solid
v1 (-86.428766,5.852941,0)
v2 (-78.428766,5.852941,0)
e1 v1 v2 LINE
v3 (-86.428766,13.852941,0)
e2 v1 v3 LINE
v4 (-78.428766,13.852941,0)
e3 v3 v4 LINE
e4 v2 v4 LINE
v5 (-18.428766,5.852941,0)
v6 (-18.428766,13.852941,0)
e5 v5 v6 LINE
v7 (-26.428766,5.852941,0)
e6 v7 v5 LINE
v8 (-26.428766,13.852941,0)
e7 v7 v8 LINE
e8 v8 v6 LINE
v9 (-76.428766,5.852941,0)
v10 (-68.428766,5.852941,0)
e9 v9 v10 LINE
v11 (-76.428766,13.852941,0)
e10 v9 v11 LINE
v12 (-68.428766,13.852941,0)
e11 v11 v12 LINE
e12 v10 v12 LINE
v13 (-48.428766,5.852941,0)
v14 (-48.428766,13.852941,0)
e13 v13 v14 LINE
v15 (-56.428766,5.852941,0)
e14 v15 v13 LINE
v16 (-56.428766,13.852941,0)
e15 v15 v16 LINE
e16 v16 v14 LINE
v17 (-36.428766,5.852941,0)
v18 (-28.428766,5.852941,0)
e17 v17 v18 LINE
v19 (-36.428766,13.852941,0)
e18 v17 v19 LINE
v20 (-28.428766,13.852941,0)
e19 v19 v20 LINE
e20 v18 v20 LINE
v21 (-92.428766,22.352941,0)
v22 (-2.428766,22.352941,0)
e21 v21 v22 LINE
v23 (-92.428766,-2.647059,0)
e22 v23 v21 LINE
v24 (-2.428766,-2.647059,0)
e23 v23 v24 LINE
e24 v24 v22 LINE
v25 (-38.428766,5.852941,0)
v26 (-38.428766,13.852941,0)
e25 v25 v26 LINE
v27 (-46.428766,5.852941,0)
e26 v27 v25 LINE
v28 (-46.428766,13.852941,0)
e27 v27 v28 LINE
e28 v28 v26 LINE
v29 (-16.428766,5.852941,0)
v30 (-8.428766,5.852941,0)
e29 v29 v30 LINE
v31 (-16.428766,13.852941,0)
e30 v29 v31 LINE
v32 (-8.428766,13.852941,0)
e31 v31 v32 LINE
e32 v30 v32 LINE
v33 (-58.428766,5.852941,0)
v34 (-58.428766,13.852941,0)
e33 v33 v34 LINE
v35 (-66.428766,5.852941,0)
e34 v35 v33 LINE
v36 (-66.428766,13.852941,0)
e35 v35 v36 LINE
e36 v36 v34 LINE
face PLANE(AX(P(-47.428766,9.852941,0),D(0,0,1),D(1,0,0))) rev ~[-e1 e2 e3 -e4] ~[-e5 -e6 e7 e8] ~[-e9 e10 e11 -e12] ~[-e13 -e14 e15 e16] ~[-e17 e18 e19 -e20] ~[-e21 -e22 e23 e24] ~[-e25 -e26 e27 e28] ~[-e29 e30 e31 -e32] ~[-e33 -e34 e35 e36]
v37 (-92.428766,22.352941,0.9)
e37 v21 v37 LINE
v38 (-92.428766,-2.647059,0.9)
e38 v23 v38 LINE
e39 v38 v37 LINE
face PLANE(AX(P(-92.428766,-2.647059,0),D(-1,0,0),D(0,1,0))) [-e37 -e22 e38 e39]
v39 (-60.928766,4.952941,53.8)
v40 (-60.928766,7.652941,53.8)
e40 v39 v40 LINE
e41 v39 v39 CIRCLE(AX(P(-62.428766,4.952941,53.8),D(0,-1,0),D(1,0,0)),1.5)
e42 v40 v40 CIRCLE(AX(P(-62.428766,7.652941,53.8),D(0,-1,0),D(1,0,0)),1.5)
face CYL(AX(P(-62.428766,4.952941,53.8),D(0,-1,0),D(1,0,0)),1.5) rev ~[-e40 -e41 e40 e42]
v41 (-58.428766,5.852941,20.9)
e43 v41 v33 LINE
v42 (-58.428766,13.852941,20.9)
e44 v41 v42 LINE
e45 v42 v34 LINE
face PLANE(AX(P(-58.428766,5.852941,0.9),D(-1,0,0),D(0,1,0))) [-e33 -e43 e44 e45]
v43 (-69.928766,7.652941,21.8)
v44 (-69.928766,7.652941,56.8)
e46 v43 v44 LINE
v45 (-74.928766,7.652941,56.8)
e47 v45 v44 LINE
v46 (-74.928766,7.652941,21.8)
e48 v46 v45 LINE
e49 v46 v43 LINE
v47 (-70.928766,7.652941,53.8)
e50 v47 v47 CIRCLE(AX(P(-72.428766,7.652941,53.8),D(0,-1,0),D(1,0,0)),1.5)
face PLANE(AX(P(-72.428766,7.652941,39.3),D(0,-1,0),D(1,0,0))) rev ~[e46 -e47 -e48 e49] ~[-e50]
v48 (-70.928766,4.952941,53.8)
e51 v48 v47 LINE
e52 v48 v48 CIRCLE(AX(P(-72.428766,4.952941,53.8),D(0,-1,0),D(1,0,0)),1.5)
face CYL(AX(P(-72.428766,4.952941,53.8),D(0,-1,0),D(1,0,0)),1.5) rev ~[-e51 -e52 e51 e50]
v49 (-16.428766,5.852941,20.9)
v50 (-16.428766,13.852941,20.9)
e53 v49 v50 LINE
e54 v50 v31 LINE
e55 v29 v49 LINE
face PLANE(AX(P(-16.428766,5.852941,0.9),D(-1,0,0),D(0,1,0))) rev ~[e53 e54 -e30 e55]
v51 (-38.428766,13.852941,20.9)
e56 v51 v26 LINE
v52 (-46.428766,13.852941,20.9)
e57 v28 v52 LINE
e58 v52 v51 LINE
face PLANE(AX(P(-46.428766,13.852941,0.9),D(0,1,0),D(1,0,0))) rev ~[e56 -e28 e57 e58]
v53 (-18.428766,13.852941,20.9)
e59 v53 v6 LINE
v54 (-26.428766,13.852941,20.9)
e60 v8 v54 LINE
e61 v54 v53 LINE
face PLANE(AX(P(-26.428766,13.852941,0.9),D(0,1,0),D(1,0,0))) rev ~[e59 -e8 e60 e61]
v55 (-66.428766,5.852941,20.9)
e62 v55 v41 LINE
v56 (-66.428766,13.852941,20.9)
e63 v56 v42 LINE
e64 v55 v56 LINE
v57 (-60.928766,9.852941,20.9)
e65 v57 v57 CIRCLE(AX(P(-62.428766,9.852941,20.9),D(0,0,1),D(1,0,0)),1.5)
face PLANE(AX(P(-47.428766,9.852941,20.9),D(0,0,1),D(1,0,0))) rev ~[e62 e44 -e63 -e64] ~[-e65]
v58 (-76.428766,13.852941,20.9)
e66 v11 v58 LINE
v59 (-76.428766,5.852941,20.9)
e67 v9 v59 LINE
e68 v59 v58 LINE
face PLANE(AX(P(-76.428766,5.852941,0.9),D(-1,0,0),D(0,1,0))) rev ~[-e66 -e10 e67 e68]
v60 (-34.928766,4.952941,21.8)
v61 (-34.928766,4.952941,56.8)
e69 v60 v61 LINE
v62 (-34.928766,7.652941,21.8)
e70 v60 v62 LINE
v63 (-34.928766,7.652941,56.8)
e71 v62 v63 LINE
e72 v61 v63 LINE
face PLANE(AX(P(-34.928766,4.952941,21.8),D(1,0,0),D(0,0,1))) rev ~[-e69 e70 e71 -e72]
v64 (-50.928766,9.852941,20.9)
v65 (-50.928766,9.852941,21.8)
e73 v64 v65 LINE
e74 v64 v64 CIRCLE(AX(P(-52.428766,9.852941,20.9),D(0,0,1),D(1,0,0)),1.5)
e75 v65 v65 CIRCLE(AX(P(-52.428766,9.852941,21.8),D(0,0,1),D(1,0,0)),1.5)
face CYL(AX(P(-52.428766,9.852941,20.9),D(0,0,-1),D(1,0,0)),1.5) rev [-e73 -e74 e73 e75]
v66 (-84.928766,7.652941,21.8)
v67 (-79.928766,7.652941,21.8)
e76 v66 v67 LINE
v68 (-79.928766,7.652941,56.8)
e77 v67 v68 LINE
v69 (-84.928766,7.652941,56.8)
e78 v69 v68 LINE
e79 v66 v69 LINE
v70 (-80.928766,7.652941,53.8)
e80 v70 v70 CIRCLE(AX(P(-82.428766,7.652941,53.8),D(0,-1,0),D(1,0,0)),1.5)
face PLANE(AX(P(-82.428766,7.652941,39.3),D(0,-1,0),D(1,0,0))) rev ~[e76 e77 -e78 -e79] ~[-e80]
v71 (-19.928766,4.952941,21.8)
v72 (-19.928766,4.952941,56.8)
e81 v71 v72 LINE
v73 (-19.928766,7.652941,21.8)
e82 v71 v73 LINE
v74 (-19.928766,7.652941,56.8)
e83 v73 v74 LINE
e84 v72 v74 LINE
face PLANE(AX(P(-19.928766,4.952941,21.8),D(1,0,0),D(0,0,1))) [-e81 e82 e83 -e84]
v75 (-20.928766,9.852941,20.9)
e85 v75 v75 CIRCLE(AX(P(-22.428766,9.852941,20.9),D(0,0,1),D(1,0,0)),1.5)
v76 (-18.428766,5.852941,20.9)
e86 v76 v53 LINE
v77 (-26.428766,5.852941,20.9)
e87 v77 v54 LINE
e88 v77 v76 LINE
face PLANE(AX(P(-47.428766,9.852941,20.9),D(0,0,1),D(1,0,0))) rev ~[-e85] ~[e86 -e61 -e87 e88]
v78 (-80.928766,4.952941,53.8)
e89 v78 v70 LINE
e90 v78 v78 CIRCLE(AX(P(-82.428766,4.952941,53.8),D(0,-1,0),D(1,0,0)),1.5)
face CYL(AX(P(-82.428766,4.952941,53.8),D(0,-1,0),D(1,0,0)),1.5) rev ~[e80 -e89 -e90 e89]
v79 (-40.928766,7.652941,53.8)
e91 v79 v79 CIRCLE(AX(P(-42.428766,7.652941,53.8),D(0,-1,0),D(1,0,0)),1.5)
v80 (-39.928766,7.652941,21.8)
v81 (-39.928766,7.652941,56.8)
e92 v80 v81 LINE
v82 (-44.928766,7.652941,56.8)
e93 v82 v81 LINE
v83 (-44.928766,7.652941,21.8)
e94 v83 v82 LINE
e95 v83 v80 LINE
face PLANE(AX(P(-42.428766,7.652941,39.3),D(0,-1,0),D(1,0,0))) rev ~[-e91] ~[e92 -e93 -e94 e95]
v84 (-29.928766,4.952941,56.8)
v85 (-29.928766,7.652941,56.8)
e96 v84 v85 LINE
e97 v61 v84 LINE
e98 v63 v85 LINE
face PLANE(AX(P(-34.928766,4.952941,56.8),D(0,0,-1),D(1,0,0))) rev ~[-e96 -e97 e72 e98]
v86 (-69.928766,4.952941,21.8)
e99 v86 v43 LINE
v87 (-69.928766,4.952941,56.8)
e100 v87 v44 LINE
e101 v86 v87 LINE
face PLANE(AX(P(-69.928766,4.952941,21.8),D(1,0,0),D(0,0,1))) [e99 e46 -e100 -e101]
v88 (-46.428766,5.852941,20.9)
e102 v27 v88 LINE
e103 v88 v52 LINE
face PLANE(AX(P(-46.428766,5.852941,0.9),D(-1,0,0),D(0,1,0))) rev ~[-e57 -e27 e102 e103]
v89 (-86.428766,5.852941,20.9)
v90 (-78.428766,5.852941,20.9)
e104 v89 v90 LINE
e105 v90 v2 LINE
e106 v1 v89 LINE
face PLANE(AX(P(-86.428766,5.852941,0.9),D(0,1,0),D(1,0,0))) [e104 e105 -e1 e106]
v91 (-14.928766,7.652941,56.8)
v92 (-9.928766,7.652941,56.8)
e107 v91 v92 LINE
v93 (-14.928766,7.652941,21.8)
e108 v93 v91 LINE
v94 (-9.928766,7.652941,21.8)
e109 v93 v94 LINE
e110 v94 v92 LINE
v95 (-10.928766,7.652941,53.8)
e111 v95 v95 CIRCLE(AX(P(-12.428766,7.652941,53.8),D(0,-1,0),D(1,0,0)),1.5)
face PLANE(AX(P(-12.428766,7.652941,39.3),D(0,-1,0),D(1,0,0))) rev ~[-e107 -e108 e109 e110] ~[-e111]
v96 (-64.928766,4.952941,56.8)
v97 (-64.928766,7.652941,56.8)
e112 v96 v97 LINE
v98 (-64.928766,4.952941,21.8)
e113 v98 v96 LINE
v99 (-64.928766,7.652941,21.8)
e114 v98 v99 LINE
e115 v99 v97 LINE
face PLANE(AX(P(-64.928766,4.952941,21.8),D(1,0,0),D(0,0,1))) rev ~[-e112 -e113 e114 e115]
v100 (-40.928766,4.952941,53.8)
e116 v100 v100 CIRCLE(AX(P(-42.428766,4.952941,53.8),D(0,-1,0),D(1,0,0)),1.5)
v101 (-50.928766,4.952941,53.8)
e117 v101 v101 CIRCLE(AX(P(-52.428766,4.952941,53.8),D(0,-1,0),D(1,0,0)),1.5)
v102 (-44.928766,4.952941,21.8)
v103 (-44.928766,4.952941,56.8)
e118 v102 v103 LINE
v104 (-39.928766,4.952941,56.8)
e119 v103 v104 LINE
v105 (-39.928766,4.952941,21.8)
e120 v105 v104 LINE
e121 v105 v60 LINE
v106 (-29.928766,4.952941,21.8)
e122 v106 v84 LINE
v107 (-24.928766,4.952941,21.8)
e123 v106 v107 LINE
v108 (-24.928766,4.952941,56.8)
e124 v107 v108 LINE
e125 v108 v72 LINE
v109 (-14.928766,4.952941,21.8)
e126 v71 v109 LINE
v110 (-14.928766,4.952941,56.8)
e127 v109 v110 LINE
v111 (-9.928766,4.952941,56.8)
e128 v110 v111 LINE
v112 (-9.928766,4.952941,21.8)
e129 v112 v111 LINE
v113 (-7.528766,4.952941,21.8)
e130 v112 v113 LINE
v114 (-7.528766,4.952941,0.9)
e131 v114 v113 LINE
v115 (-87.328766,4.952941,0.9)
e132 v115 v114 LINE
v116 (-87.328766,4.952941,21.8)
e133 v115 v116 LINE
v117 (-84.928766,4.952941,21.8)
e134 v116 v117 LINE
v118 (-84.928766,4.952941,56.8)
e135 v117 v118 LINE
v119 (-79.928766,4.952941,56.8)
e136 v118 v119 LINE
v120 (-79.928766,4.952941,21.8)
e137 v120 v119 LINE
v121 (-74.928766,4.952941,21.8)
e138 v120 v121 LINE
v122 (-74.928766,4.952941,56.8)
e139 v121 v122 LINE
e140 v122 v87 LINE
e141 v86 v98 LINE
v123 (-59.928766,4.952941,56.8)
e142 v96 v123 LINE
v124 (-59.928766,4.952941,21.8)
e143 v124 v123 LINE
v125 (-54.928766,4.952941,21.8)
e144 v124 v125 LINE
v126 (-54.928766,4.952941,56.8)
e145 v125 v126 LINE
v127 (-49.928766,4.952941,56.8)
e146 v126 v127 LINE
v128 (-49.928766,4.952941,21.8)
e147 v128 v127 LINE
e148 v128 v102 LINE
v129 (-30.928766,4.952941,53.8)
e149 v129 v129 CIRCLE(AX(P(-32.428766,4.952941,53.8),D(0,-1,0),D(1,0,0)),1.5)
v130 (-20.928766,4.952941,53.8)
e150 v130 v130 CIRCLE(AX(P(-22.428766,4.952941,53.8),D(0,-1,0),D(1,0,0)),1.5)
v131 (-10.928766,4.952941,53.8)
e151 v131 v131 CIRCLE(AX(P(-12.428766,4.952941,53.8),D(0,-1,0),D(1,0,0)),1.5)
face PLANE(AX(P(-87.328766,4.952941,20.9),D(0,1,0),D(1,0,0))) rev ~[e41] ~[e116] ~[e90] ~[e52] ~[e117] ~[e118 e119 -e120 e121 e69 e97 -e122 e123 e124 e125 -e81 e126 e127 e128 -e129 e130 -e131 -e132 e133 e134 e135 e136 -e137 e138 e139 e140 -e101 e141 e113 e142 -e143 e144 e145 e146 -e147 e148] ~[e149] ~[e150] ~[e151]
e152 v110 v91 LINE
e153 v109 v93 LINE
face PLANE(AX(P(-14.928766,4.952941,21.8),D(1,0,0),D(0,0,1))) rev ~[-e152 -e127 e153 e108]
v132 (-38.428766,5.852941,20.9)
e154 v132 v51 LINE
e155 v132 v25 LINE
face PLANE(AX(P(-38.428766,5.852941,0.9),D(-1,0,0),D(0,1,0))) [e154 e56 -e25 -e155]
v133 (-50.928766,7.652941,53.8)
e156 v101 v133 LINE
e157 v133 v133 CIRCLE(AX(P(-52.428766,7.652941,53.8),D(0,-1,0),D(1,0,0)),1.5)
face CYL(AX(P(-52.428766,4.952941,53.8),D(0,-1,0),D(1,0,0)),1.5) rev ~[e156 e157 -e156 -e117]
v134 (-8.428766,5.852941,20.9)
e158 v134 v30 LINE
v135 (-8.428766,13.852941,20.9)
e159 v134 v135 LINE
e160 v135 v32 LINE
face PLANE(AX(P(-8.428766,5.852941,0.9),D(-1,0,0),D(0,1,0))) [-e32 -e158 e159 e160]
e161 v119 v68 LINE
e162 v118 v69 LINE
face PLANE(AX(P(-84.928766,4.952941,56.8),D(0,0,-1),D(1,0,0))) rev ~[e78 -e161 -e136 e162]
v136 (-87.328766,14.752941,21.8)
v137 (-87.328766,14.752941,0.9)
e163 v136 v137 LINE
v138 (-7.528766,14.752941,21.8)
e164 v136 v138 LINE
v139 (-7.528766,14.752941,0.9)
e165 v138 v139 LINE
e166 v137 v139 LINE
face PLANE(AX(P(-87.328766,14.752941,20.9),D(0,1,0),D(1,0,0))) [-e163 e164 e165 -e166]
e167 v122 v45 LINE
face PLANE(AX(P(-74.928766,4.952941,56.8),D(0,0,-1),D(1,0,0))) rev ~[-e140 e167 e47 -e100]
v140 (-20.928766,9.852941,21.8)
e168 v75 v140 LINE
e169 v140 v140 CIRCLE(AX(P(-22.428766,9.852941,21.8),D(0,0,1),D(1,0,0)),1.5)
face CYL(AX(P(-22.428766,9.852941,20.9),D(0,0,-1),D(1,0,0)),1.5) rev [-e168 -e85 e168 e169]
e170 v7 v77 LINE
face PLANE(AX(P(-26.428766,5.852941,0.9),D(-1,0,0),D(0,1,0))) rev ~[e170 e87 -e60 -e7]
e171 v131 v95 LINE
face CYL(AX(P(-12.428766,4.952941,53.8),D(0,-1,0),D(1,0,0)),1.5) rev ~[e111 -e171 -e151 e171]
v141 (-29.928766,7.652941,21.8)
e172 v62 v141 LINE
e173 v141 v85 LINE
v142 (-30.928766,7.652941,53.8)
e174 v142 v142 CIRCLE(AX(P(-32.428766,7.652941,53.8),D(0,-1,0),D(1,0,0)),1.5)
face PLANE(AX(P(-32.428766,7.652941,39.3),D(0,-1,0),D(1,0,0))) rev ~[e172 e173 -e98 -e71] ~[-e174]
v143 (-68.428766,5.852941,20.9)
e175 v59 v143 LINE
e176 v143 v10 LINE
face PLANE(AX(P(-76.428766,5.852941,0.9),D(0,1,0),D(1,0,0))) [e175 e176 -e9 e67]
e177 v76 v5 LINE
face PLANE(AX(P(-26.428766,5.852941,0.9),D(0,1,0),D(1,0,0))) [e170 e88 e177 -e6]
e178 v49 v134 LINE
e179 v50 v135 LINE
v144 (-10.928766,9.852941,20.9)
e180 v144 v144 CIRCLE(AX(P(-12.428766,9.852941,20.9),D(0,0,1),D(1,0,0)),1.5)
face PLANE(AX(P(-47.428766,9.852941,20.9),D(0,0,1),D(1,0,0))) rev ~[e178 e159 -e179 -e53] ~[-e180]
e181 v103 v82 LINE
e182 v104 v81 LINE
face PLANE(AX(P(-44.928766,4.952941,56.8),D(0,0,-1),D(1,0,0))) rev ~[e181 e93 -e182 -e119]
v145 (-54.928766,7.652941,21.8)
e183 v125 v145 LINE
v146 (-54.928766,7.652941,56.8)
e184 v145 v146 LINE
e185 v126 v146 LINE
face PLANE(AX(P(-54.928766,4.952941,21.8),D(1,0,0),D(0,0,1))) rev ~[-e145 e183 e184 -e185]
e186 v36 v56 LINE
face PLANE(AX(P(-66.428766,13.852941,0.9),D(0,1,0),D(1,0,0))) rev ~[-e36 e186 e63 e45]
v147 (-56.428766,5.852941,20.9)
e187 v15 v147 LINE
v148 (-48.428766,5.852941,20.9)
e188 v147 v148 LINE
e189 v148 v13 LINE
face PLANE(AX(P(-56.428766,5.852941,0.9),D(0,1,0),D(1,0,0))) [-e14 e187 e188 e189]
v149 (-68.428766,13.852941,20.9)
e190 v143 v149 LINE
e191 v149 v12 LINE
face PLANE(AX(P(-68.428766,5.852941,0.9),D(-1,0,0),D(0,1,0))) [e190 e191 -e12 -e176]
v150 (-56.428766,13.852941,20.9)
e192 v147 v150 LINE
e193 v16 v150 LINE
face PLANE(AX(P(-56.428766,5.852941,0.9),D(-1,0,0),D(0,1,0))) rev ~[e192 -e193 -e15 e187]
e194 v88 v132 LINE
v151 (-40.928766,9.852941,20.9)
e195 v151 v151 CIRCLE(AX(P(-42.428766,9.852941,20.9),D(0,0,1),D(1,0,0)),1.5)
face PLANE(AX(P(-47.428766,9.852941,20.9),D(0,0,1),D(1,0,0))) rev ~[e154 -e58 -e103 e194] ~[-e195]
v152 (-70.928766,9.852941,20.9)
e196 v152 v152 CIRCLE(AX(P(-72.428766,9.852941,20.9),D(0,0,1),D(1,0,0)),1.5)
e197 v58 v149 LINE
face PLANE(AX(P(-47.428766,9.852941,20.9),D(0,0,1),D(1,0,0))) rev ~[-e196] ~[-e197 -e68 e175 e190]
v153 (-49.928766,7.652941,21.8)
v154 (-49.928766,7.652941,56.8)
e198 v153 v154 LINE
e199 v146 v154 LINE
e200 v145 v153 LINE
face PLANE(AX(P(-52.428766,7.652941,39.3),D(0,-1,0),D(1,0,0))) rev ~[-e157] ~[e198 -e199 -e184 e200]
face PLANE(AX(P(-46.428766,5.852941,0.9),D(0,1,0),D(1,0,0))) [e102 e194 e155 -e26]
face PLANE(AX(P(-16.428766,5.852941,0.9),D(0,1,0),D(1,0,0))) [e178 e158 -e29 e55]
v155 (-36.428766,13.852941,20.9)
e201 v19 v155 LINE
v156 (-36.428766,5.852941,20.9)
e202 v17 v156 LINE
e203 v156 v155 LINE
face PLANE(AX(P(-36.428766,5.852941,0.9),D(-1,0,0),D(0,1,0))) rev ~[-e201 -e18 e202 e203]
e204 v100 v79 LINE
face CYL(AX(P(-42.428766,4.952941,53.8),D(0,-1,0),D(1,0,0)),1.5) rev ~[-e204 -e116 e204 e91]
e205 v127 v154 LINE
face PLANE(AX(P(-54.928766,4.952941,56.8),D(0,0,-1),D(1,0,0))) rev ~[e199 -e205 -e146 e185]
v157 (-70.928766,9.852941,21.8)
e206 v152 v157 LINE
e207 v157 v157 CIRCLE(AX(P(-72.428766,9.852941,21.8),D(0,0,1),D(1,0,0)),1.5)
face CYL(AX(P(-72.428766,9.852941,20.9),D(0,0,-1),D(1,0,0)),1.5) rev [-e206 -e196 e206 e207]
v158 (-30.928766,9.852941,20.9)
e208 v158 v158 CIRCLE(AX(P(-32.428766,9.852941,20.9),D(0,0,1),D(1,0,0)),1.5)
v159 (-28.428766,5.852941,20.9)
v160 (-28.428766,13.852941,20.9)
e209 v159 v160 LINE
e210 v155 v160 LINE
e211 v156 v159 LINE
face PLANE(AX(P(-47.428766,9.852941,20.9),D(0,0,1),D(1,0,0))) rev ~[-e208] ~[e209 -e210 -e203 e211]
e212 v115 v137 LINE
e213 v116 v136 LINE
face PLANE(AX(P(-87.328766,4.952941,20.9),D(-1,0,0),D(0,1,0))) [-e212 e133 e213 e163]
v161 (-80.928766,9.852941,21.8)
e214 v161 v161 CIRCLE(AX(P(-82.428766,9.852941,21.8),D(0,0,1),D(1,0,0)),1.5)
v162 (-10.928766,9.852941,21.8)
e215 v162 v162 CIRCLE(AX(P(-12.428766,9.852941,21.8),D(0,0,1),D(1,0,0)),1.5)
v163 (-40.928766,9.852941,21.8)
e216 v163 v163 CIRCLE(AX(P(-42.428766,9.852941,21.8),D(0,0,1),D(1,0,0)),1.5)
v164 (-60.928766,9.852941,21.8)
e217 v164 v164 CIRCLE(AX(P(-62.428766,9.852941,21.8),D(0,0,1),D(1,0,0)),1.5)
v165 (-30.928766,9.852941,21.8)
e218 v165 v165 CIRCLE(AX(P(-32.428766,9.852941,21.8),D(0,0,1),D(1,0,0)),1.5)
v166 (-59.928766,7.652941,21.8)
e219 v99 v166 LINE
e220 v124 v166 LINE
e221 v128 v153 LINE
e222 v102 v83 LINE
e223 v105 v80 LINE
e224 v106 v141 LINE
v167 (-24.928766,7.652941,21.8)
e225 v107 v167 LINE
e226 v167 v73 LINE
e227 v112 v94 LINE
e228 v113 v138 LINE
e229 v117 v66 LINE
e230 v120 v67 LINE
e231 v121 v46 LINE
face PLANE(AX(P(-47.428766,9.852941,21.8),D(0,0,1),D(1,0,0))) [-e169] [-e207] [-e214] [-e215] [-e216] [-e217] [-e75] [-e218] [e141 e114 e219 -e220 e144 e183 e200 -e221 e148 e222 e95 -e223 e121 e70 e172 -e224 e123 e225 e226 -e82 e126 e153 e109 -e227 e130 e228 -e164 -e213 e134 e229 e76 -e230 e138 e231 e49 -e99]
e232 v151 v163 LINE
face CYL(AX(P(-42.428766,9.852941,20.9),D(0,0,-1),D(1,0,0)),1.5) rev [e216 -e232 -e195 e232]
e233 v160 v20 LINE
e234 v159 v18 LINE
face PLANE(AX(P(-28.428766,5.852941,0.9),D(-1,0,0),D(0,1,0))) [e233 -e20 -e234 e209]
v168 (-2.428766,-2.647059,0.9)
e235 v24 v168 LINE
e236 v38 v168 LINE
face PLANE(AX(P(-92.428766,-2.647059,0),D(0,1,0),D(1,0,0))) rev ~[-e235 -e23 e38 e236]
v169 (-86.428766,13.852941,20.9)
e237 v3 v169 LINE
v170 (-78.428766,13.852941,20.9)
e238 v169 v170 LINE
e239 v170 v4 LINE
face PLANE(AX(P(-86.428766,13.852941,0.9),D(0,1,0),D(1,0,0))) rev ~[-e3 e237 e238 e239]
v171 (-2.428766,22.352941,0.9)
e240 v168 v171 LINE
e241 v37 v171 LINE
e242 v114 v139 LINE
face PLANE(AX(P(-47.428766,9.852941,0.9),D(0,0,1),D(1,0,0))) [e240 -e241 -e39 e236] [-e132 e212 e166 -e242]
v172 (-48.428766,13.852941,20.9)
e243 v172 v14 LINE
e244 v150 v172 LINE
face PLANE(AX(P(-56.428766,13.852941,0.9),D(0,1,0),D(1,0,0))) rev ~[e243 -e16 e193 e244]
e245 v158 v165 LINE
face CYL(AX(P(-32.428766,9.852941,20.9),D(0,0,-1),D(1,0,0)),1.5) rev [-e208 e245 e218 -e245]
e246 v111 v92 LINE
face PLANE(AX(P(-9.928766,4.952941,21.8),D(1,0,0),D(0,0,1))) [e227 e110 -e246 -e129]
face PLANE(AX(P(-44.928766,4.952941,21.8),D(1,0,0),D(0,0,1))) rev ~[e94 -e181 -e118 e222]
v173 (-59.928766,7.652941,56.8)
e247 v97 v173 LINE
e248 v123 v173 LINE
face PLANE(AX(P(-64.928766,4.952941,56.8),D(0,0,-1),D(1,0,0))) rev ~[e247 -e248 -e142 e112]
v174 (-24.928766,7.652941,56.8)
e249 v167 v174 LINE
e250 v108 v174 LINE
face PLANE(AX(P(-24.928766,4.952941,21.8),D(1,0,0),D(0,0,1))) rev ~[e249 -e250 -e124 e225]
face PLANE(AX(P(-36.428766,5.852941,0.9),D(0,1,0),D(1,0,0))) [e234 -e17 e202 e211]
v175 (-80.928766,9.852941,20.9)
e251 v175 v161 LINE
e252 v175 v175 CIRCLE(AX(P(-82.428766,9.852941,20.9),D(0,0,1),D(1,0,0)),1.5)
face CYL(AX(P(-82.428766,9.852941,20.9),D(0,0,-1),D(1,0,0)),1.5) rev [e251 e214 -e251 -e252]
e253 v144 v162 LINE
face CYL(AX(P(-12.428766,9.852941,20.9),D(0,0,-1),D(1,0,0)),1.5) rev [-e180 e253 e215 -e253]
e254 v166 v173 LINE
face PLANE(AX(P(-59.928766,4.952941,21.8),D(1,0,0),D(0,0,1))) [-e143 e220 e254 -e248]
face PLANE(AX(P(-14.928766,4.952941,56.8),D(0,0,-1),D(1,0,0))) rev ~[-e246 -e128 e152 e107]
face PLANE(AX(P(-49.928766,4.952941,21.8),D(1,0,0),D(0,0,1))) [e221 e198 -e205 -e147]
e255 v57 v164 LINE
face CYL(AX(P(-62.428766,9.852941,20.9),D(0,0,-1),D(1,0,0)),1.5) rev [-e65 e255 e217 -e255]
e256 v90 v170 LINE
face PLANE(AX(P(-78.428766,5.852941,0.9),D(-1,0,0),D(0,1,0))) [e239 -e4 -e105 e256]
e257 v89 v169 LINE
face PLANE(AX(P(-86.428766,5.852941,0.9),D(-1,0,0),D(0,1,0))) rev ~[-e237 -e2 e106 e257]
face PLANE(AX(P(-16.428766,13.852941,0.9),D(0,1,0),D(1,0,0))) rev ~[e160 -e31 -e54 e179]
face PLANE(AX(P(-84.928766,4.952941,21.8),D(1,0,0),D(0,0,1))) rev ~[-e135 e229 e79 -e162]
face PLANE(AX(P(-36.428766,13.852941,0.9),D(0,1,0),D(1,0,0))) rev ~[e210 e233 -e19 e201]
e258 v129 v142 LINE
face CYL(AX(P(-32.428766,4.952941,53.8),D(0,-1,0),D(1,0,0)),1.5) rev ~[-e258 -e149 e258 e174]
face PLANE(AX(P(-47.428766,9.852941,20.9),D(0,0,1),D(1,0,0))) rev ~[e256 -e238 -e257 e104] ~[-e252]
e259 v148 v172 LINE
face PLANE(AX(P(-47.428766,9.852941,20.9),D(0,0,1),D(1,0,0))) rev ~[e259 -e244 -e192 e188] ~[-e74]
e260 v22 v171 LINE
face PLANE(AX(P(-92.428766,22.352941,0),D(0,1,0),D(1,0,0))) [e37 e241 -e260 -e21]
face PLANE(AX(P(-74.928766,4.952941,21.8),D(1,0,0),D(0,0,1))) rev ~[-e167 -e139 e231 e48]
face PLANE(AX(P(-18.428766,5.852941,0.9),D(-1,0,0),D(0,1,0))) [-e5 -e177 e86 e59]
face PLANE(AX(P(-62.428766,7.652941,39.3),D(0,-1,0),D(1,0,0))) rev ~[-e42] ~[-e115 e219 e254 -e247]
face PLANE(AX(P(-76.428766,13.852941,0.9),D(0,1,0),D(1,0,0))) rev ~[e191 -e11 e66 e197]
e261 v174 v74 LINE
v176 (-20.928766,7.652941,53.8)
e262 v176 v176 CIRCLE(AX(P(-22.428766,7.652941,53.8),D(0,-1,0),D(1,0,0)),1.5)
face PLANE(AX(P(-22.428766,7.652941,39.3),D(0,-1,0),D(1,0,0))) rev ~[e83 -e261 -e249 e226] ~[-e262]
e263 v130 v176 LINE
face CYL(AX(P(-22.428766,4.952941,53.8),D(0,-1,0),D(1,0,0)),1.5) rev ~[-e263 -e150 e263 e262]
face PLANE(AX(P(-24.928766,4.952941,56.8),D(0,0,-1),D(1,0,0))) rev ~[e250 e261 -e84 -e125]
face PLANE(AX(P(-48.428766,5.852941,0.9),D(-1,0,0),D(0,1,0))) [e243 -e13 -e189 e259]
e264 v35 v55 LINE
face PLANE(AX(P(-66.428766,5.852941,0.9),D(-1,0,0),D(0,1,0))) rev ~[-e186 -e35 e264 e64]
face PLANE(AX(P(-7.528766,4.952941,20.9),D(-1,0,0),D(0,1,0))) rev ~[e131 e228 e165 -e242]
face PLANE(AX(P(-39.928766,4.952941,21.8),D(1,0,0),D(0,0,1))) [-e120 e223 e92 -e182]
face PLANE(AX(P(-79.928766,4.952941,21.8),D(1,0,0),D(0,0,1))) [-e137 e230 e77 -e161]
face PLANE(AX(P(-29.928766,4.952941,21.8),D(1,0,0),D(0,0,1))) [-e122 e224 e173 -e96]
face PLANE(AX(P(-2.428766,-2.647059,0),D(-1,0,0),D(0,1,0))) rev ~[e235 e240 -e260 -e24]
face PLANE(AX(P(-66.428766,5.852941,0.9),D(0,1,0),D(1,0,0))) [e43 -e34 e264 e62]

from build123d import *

# Parameters (mm, degrees)
CROQUIS1_W              = 90
CROQUIS1_H              = 25
SALIENTE_EXTRUIR1_DEPTH = 0.9
CROQUIS2_W              = 8
CROQUIS2_H              = 8
CORTAR_EXTRUIR1_DEPTH   = 0.9
CROQUIS3_W              = 79.8
CROQUIS3_H              = 9.8
CROQUIS3_W_2            = 8
CROQUIS3_H_2            = 8
SALIENTE_EXTRUIR2_DEPTH = 20
CROQUIS4_W              = 79.8
CROQUIS4_H              = 9.8
CROQUIS4_R              = 1.5
SALIENTE_EXTRUIR3_DEPTH = 0.9
CROQUIS5_W              = 5
CROQUIS5_H              = 35
CROQUIS5_R              = 1.5
SALIENTE_EXTRUIR4_DEPTH = 2.7


with BuildPart() as part:
    # Croquis1 → Saliente-Extruir1 (new body)
    with BuildSketch(Plane.XY):
        with Locations((-47.428766378, 9.852941176)):
            Rectangle(CROQUIS1_W, CROQUIS1_H)
    extrude(amount=SALIENTE_EXTRUIR1_DEPTH)

    # Croquis2 → Cortar-Extruir1 (cut)
    with BuildSketch(Plane.XY.offset(0.9)):
        with Locations((-82.428766378, 9.852941176)):
            Rectangle(CROQUIS2_W, CROQUIS2_H)
        with Locations((-72.428766378, 9.852941176)):
            Rectangle(CROQUIS2_W, CROQUIS2_H)
        with Locations((-62.428766378, 9.852941176)):
            Rectangle(CROQUIS2_W, CROQUIS2_H)
        with Locations((-52.428766378, 9.852941176)):
            Rectangle(CROQUIS2_W, CROQUIS2_H)
        with Locations((-42.428766378, 9.852941176)):
            Rectangle(CROQUIS2_W, CROQUIS2_H)
        with Locations((-32.428766378, 9.852941176)):
            Rectangle(CROQUIS2_W, CROQUIS2_H)
        with Locations((-22.428766378, 9.852941176)):
            Rectangle(CROQUIS2_W, CROQUIS2_H)
        with Locations((-12.428766378, 9.852941176)):
            Rectangle(CROQUIS2_W, CROQUIS2_H)
    extrude(amount=-CORTAR_EXTRUIR1_DEPTH, mode=Mode.SUBTRACT)

    # Croquis3 → Saliente-Extruir2 (add)
    with BuildSketch(Plane.XY.offset(0.9)):
        with Locations((-47.428766378, 9.852941176)):
            Rectangle(CROQUIS3_W, CROQUIS3_H)
        with Locations((-72.428766378, 9.852941176)):
            Rectangle(CROQUIS3_W_2, CROQUIS3_H_2, mode=Mode.SUBTRACT)
        with Locations((-82.428766378, 9.852941176)):
            Rectangle(CROQUIS3_W_2, CROQUIS3_H_2, mode=Mode.SUBTRACT)
        with Locations((-62.428766378, 9.852941176)):
            Rectangle(CROQUIS3_W_2, CROQUIS3_H_2, mode=Mode.SUBTRACT)
        with Locations((-52.428766378, 9.852941176)):
            Rectangle(CROQUIS3_W_2, CROQUIS3_H_2, mode=Mode.SUBTRACT)
        with Locations((-42.428766378, 9.852941176)):
            Rectangle(CROQUIS3_W_2, CROQUIS3_H_2, mode=Mode.SUBTRACT)
        with Locations((-32.428766378, 9.852941176)):
            Rectangle(CROQUIS3_W_2, CROQUIS3_H_2, mode=Mode.SUBTRACT)
        with Locations((-22.428766378, 9.852941176)):
            Rectangle(CROQUIS3_W_2, CROQUIS3_H_2, mode=Mode.SUBTRACT)
        with Locations((-12.428766378, 9.852941176)):
            Rectangle(CROQUIS3_W_2, CROQUIS3_H_2, mode=Mode.SUBTRACT)
    extrude(amount=SALIENTE_EXTRUIR2_DEPTH)

    # Croquis4 → Saliente-Extruir3 (add)
    with BuildSketch(Plane.XY.offset(20.9)):
        with Locations((-47.428766378, 9.852941176)):
            Rectangle(CROQUIS4_W, CROQUIS4_H)
        with Locations((-82.428766378, 9.852941176)):
            Circle(CROQUIS4_R, mode=Mode.SUBTRACT)
        with Locations((-72.428766378, 9.852941176)):
            Circle(CROQUIS4_R, mode=Mode.SUBTRACT)
        with Locations((-62.428766378, 9.852941176)):
            Circle(CROQUIS4_R, mode=Mode.SUBTRACT)
        with Locations((-52.428766378, 9.852941176)):
            Circle(CROQUIS4_R, mode=Mode.SUBTRACT)
        with Locations((-42.428766378, 9.852941176)):
            Circle(CROQUIS4_R, mode=Mode.SUBTRACT)
        with Locations((-32.428766378, 9.852941176)):
            Circle(CROQUIS4_R, mode=Mode.SUBTRACT)
        with Locations((-22.428766378, 9.852941176)):
            Circle(CROQUIS4_R, mode=Mode.SUBTRACT)
        with Locations((-12.428766378, 9.852941176)):
            Circle(CROQUIS4_R, mode=Mode.SUBTRACT)
    extrude(amount=SALIENTE_EXTRUIR3_DEPTH)

    # Croquis5 → Saliente-Extruir4 (add)
    with BuildSketch(Plane.XZ.offset(-4.952941176)):
        with Locations((-82.428766378, 39.3)):
            Rectangle(CROQUIS5_W, CROQUIS5_H)
        with Locations((-82.428766378, 53.8)):
            Circle(CROQUIS5_R, mode=Mode.SUBTRACT)
        with Locations((-72.428766378, 39.3)):
            Rectangle(CROQUIS5_W, CROQUIS5_H)
        with Locations((-72.428766378, 53.8)):
            Circle(CROQUIS5_R, mode=Mode.SUBTRACT)
        with Locations((-62.428766378, 39.3)):
            Rectangle(CROQUIS5_W, CROQUIS5_H)
        with Locations((-62.428766378, 53.8)):
            Circle(CROQUIS5_R, mode=Mode.SUBTRACT)
        with Locations((-52.428766378, 39.3)):
            Rectangle(CROQUIS5_W, CROQUIS5_H)
        with Locations((-52.428766378, 53.8)):
            Circle(CROQUIS5_R, mode=Mode.SUBTRACT)
        with Locations((-42.428766378, 39.3)):
            Rectangle(CROQUIS5_W, CROQUIS5_H)
        with Locations((-42.428766378, 53.8)):
            Circle(CROQUIS5_R, mode=Mode.SUBTRACT)
        with Locations((-32.428766378, 39.3)):
            Rectangle(CROQUIS5_W, CROQUIS5_H)
        with Locations((-32.428766378, 53.8)):
            Circle(CROQUIS5_R, mode=Mode.SUBTRACT)
        with Locations((-22.428766378, 39.3)):
            Rectangle(CROQUIS5_W, CROQUIS5_H)
        with Locations((-22.428766378, 53.8)):
            Circle(CROQUIS5_R, mode=Mode.SUBTRACT)
        with Locations((-12.428766378, 39.3)):
            Rectangle(CROQUIS5_W, CROQUIS5_H)
        with Locations((-12.428766378, 53.8)):
            Circle(CROQUIS5_R, mode=Mode.SUBTRACT)
    extrude(amount=-SALIENTE_EXTRUIR4_DEPTH)


solid = part.part
